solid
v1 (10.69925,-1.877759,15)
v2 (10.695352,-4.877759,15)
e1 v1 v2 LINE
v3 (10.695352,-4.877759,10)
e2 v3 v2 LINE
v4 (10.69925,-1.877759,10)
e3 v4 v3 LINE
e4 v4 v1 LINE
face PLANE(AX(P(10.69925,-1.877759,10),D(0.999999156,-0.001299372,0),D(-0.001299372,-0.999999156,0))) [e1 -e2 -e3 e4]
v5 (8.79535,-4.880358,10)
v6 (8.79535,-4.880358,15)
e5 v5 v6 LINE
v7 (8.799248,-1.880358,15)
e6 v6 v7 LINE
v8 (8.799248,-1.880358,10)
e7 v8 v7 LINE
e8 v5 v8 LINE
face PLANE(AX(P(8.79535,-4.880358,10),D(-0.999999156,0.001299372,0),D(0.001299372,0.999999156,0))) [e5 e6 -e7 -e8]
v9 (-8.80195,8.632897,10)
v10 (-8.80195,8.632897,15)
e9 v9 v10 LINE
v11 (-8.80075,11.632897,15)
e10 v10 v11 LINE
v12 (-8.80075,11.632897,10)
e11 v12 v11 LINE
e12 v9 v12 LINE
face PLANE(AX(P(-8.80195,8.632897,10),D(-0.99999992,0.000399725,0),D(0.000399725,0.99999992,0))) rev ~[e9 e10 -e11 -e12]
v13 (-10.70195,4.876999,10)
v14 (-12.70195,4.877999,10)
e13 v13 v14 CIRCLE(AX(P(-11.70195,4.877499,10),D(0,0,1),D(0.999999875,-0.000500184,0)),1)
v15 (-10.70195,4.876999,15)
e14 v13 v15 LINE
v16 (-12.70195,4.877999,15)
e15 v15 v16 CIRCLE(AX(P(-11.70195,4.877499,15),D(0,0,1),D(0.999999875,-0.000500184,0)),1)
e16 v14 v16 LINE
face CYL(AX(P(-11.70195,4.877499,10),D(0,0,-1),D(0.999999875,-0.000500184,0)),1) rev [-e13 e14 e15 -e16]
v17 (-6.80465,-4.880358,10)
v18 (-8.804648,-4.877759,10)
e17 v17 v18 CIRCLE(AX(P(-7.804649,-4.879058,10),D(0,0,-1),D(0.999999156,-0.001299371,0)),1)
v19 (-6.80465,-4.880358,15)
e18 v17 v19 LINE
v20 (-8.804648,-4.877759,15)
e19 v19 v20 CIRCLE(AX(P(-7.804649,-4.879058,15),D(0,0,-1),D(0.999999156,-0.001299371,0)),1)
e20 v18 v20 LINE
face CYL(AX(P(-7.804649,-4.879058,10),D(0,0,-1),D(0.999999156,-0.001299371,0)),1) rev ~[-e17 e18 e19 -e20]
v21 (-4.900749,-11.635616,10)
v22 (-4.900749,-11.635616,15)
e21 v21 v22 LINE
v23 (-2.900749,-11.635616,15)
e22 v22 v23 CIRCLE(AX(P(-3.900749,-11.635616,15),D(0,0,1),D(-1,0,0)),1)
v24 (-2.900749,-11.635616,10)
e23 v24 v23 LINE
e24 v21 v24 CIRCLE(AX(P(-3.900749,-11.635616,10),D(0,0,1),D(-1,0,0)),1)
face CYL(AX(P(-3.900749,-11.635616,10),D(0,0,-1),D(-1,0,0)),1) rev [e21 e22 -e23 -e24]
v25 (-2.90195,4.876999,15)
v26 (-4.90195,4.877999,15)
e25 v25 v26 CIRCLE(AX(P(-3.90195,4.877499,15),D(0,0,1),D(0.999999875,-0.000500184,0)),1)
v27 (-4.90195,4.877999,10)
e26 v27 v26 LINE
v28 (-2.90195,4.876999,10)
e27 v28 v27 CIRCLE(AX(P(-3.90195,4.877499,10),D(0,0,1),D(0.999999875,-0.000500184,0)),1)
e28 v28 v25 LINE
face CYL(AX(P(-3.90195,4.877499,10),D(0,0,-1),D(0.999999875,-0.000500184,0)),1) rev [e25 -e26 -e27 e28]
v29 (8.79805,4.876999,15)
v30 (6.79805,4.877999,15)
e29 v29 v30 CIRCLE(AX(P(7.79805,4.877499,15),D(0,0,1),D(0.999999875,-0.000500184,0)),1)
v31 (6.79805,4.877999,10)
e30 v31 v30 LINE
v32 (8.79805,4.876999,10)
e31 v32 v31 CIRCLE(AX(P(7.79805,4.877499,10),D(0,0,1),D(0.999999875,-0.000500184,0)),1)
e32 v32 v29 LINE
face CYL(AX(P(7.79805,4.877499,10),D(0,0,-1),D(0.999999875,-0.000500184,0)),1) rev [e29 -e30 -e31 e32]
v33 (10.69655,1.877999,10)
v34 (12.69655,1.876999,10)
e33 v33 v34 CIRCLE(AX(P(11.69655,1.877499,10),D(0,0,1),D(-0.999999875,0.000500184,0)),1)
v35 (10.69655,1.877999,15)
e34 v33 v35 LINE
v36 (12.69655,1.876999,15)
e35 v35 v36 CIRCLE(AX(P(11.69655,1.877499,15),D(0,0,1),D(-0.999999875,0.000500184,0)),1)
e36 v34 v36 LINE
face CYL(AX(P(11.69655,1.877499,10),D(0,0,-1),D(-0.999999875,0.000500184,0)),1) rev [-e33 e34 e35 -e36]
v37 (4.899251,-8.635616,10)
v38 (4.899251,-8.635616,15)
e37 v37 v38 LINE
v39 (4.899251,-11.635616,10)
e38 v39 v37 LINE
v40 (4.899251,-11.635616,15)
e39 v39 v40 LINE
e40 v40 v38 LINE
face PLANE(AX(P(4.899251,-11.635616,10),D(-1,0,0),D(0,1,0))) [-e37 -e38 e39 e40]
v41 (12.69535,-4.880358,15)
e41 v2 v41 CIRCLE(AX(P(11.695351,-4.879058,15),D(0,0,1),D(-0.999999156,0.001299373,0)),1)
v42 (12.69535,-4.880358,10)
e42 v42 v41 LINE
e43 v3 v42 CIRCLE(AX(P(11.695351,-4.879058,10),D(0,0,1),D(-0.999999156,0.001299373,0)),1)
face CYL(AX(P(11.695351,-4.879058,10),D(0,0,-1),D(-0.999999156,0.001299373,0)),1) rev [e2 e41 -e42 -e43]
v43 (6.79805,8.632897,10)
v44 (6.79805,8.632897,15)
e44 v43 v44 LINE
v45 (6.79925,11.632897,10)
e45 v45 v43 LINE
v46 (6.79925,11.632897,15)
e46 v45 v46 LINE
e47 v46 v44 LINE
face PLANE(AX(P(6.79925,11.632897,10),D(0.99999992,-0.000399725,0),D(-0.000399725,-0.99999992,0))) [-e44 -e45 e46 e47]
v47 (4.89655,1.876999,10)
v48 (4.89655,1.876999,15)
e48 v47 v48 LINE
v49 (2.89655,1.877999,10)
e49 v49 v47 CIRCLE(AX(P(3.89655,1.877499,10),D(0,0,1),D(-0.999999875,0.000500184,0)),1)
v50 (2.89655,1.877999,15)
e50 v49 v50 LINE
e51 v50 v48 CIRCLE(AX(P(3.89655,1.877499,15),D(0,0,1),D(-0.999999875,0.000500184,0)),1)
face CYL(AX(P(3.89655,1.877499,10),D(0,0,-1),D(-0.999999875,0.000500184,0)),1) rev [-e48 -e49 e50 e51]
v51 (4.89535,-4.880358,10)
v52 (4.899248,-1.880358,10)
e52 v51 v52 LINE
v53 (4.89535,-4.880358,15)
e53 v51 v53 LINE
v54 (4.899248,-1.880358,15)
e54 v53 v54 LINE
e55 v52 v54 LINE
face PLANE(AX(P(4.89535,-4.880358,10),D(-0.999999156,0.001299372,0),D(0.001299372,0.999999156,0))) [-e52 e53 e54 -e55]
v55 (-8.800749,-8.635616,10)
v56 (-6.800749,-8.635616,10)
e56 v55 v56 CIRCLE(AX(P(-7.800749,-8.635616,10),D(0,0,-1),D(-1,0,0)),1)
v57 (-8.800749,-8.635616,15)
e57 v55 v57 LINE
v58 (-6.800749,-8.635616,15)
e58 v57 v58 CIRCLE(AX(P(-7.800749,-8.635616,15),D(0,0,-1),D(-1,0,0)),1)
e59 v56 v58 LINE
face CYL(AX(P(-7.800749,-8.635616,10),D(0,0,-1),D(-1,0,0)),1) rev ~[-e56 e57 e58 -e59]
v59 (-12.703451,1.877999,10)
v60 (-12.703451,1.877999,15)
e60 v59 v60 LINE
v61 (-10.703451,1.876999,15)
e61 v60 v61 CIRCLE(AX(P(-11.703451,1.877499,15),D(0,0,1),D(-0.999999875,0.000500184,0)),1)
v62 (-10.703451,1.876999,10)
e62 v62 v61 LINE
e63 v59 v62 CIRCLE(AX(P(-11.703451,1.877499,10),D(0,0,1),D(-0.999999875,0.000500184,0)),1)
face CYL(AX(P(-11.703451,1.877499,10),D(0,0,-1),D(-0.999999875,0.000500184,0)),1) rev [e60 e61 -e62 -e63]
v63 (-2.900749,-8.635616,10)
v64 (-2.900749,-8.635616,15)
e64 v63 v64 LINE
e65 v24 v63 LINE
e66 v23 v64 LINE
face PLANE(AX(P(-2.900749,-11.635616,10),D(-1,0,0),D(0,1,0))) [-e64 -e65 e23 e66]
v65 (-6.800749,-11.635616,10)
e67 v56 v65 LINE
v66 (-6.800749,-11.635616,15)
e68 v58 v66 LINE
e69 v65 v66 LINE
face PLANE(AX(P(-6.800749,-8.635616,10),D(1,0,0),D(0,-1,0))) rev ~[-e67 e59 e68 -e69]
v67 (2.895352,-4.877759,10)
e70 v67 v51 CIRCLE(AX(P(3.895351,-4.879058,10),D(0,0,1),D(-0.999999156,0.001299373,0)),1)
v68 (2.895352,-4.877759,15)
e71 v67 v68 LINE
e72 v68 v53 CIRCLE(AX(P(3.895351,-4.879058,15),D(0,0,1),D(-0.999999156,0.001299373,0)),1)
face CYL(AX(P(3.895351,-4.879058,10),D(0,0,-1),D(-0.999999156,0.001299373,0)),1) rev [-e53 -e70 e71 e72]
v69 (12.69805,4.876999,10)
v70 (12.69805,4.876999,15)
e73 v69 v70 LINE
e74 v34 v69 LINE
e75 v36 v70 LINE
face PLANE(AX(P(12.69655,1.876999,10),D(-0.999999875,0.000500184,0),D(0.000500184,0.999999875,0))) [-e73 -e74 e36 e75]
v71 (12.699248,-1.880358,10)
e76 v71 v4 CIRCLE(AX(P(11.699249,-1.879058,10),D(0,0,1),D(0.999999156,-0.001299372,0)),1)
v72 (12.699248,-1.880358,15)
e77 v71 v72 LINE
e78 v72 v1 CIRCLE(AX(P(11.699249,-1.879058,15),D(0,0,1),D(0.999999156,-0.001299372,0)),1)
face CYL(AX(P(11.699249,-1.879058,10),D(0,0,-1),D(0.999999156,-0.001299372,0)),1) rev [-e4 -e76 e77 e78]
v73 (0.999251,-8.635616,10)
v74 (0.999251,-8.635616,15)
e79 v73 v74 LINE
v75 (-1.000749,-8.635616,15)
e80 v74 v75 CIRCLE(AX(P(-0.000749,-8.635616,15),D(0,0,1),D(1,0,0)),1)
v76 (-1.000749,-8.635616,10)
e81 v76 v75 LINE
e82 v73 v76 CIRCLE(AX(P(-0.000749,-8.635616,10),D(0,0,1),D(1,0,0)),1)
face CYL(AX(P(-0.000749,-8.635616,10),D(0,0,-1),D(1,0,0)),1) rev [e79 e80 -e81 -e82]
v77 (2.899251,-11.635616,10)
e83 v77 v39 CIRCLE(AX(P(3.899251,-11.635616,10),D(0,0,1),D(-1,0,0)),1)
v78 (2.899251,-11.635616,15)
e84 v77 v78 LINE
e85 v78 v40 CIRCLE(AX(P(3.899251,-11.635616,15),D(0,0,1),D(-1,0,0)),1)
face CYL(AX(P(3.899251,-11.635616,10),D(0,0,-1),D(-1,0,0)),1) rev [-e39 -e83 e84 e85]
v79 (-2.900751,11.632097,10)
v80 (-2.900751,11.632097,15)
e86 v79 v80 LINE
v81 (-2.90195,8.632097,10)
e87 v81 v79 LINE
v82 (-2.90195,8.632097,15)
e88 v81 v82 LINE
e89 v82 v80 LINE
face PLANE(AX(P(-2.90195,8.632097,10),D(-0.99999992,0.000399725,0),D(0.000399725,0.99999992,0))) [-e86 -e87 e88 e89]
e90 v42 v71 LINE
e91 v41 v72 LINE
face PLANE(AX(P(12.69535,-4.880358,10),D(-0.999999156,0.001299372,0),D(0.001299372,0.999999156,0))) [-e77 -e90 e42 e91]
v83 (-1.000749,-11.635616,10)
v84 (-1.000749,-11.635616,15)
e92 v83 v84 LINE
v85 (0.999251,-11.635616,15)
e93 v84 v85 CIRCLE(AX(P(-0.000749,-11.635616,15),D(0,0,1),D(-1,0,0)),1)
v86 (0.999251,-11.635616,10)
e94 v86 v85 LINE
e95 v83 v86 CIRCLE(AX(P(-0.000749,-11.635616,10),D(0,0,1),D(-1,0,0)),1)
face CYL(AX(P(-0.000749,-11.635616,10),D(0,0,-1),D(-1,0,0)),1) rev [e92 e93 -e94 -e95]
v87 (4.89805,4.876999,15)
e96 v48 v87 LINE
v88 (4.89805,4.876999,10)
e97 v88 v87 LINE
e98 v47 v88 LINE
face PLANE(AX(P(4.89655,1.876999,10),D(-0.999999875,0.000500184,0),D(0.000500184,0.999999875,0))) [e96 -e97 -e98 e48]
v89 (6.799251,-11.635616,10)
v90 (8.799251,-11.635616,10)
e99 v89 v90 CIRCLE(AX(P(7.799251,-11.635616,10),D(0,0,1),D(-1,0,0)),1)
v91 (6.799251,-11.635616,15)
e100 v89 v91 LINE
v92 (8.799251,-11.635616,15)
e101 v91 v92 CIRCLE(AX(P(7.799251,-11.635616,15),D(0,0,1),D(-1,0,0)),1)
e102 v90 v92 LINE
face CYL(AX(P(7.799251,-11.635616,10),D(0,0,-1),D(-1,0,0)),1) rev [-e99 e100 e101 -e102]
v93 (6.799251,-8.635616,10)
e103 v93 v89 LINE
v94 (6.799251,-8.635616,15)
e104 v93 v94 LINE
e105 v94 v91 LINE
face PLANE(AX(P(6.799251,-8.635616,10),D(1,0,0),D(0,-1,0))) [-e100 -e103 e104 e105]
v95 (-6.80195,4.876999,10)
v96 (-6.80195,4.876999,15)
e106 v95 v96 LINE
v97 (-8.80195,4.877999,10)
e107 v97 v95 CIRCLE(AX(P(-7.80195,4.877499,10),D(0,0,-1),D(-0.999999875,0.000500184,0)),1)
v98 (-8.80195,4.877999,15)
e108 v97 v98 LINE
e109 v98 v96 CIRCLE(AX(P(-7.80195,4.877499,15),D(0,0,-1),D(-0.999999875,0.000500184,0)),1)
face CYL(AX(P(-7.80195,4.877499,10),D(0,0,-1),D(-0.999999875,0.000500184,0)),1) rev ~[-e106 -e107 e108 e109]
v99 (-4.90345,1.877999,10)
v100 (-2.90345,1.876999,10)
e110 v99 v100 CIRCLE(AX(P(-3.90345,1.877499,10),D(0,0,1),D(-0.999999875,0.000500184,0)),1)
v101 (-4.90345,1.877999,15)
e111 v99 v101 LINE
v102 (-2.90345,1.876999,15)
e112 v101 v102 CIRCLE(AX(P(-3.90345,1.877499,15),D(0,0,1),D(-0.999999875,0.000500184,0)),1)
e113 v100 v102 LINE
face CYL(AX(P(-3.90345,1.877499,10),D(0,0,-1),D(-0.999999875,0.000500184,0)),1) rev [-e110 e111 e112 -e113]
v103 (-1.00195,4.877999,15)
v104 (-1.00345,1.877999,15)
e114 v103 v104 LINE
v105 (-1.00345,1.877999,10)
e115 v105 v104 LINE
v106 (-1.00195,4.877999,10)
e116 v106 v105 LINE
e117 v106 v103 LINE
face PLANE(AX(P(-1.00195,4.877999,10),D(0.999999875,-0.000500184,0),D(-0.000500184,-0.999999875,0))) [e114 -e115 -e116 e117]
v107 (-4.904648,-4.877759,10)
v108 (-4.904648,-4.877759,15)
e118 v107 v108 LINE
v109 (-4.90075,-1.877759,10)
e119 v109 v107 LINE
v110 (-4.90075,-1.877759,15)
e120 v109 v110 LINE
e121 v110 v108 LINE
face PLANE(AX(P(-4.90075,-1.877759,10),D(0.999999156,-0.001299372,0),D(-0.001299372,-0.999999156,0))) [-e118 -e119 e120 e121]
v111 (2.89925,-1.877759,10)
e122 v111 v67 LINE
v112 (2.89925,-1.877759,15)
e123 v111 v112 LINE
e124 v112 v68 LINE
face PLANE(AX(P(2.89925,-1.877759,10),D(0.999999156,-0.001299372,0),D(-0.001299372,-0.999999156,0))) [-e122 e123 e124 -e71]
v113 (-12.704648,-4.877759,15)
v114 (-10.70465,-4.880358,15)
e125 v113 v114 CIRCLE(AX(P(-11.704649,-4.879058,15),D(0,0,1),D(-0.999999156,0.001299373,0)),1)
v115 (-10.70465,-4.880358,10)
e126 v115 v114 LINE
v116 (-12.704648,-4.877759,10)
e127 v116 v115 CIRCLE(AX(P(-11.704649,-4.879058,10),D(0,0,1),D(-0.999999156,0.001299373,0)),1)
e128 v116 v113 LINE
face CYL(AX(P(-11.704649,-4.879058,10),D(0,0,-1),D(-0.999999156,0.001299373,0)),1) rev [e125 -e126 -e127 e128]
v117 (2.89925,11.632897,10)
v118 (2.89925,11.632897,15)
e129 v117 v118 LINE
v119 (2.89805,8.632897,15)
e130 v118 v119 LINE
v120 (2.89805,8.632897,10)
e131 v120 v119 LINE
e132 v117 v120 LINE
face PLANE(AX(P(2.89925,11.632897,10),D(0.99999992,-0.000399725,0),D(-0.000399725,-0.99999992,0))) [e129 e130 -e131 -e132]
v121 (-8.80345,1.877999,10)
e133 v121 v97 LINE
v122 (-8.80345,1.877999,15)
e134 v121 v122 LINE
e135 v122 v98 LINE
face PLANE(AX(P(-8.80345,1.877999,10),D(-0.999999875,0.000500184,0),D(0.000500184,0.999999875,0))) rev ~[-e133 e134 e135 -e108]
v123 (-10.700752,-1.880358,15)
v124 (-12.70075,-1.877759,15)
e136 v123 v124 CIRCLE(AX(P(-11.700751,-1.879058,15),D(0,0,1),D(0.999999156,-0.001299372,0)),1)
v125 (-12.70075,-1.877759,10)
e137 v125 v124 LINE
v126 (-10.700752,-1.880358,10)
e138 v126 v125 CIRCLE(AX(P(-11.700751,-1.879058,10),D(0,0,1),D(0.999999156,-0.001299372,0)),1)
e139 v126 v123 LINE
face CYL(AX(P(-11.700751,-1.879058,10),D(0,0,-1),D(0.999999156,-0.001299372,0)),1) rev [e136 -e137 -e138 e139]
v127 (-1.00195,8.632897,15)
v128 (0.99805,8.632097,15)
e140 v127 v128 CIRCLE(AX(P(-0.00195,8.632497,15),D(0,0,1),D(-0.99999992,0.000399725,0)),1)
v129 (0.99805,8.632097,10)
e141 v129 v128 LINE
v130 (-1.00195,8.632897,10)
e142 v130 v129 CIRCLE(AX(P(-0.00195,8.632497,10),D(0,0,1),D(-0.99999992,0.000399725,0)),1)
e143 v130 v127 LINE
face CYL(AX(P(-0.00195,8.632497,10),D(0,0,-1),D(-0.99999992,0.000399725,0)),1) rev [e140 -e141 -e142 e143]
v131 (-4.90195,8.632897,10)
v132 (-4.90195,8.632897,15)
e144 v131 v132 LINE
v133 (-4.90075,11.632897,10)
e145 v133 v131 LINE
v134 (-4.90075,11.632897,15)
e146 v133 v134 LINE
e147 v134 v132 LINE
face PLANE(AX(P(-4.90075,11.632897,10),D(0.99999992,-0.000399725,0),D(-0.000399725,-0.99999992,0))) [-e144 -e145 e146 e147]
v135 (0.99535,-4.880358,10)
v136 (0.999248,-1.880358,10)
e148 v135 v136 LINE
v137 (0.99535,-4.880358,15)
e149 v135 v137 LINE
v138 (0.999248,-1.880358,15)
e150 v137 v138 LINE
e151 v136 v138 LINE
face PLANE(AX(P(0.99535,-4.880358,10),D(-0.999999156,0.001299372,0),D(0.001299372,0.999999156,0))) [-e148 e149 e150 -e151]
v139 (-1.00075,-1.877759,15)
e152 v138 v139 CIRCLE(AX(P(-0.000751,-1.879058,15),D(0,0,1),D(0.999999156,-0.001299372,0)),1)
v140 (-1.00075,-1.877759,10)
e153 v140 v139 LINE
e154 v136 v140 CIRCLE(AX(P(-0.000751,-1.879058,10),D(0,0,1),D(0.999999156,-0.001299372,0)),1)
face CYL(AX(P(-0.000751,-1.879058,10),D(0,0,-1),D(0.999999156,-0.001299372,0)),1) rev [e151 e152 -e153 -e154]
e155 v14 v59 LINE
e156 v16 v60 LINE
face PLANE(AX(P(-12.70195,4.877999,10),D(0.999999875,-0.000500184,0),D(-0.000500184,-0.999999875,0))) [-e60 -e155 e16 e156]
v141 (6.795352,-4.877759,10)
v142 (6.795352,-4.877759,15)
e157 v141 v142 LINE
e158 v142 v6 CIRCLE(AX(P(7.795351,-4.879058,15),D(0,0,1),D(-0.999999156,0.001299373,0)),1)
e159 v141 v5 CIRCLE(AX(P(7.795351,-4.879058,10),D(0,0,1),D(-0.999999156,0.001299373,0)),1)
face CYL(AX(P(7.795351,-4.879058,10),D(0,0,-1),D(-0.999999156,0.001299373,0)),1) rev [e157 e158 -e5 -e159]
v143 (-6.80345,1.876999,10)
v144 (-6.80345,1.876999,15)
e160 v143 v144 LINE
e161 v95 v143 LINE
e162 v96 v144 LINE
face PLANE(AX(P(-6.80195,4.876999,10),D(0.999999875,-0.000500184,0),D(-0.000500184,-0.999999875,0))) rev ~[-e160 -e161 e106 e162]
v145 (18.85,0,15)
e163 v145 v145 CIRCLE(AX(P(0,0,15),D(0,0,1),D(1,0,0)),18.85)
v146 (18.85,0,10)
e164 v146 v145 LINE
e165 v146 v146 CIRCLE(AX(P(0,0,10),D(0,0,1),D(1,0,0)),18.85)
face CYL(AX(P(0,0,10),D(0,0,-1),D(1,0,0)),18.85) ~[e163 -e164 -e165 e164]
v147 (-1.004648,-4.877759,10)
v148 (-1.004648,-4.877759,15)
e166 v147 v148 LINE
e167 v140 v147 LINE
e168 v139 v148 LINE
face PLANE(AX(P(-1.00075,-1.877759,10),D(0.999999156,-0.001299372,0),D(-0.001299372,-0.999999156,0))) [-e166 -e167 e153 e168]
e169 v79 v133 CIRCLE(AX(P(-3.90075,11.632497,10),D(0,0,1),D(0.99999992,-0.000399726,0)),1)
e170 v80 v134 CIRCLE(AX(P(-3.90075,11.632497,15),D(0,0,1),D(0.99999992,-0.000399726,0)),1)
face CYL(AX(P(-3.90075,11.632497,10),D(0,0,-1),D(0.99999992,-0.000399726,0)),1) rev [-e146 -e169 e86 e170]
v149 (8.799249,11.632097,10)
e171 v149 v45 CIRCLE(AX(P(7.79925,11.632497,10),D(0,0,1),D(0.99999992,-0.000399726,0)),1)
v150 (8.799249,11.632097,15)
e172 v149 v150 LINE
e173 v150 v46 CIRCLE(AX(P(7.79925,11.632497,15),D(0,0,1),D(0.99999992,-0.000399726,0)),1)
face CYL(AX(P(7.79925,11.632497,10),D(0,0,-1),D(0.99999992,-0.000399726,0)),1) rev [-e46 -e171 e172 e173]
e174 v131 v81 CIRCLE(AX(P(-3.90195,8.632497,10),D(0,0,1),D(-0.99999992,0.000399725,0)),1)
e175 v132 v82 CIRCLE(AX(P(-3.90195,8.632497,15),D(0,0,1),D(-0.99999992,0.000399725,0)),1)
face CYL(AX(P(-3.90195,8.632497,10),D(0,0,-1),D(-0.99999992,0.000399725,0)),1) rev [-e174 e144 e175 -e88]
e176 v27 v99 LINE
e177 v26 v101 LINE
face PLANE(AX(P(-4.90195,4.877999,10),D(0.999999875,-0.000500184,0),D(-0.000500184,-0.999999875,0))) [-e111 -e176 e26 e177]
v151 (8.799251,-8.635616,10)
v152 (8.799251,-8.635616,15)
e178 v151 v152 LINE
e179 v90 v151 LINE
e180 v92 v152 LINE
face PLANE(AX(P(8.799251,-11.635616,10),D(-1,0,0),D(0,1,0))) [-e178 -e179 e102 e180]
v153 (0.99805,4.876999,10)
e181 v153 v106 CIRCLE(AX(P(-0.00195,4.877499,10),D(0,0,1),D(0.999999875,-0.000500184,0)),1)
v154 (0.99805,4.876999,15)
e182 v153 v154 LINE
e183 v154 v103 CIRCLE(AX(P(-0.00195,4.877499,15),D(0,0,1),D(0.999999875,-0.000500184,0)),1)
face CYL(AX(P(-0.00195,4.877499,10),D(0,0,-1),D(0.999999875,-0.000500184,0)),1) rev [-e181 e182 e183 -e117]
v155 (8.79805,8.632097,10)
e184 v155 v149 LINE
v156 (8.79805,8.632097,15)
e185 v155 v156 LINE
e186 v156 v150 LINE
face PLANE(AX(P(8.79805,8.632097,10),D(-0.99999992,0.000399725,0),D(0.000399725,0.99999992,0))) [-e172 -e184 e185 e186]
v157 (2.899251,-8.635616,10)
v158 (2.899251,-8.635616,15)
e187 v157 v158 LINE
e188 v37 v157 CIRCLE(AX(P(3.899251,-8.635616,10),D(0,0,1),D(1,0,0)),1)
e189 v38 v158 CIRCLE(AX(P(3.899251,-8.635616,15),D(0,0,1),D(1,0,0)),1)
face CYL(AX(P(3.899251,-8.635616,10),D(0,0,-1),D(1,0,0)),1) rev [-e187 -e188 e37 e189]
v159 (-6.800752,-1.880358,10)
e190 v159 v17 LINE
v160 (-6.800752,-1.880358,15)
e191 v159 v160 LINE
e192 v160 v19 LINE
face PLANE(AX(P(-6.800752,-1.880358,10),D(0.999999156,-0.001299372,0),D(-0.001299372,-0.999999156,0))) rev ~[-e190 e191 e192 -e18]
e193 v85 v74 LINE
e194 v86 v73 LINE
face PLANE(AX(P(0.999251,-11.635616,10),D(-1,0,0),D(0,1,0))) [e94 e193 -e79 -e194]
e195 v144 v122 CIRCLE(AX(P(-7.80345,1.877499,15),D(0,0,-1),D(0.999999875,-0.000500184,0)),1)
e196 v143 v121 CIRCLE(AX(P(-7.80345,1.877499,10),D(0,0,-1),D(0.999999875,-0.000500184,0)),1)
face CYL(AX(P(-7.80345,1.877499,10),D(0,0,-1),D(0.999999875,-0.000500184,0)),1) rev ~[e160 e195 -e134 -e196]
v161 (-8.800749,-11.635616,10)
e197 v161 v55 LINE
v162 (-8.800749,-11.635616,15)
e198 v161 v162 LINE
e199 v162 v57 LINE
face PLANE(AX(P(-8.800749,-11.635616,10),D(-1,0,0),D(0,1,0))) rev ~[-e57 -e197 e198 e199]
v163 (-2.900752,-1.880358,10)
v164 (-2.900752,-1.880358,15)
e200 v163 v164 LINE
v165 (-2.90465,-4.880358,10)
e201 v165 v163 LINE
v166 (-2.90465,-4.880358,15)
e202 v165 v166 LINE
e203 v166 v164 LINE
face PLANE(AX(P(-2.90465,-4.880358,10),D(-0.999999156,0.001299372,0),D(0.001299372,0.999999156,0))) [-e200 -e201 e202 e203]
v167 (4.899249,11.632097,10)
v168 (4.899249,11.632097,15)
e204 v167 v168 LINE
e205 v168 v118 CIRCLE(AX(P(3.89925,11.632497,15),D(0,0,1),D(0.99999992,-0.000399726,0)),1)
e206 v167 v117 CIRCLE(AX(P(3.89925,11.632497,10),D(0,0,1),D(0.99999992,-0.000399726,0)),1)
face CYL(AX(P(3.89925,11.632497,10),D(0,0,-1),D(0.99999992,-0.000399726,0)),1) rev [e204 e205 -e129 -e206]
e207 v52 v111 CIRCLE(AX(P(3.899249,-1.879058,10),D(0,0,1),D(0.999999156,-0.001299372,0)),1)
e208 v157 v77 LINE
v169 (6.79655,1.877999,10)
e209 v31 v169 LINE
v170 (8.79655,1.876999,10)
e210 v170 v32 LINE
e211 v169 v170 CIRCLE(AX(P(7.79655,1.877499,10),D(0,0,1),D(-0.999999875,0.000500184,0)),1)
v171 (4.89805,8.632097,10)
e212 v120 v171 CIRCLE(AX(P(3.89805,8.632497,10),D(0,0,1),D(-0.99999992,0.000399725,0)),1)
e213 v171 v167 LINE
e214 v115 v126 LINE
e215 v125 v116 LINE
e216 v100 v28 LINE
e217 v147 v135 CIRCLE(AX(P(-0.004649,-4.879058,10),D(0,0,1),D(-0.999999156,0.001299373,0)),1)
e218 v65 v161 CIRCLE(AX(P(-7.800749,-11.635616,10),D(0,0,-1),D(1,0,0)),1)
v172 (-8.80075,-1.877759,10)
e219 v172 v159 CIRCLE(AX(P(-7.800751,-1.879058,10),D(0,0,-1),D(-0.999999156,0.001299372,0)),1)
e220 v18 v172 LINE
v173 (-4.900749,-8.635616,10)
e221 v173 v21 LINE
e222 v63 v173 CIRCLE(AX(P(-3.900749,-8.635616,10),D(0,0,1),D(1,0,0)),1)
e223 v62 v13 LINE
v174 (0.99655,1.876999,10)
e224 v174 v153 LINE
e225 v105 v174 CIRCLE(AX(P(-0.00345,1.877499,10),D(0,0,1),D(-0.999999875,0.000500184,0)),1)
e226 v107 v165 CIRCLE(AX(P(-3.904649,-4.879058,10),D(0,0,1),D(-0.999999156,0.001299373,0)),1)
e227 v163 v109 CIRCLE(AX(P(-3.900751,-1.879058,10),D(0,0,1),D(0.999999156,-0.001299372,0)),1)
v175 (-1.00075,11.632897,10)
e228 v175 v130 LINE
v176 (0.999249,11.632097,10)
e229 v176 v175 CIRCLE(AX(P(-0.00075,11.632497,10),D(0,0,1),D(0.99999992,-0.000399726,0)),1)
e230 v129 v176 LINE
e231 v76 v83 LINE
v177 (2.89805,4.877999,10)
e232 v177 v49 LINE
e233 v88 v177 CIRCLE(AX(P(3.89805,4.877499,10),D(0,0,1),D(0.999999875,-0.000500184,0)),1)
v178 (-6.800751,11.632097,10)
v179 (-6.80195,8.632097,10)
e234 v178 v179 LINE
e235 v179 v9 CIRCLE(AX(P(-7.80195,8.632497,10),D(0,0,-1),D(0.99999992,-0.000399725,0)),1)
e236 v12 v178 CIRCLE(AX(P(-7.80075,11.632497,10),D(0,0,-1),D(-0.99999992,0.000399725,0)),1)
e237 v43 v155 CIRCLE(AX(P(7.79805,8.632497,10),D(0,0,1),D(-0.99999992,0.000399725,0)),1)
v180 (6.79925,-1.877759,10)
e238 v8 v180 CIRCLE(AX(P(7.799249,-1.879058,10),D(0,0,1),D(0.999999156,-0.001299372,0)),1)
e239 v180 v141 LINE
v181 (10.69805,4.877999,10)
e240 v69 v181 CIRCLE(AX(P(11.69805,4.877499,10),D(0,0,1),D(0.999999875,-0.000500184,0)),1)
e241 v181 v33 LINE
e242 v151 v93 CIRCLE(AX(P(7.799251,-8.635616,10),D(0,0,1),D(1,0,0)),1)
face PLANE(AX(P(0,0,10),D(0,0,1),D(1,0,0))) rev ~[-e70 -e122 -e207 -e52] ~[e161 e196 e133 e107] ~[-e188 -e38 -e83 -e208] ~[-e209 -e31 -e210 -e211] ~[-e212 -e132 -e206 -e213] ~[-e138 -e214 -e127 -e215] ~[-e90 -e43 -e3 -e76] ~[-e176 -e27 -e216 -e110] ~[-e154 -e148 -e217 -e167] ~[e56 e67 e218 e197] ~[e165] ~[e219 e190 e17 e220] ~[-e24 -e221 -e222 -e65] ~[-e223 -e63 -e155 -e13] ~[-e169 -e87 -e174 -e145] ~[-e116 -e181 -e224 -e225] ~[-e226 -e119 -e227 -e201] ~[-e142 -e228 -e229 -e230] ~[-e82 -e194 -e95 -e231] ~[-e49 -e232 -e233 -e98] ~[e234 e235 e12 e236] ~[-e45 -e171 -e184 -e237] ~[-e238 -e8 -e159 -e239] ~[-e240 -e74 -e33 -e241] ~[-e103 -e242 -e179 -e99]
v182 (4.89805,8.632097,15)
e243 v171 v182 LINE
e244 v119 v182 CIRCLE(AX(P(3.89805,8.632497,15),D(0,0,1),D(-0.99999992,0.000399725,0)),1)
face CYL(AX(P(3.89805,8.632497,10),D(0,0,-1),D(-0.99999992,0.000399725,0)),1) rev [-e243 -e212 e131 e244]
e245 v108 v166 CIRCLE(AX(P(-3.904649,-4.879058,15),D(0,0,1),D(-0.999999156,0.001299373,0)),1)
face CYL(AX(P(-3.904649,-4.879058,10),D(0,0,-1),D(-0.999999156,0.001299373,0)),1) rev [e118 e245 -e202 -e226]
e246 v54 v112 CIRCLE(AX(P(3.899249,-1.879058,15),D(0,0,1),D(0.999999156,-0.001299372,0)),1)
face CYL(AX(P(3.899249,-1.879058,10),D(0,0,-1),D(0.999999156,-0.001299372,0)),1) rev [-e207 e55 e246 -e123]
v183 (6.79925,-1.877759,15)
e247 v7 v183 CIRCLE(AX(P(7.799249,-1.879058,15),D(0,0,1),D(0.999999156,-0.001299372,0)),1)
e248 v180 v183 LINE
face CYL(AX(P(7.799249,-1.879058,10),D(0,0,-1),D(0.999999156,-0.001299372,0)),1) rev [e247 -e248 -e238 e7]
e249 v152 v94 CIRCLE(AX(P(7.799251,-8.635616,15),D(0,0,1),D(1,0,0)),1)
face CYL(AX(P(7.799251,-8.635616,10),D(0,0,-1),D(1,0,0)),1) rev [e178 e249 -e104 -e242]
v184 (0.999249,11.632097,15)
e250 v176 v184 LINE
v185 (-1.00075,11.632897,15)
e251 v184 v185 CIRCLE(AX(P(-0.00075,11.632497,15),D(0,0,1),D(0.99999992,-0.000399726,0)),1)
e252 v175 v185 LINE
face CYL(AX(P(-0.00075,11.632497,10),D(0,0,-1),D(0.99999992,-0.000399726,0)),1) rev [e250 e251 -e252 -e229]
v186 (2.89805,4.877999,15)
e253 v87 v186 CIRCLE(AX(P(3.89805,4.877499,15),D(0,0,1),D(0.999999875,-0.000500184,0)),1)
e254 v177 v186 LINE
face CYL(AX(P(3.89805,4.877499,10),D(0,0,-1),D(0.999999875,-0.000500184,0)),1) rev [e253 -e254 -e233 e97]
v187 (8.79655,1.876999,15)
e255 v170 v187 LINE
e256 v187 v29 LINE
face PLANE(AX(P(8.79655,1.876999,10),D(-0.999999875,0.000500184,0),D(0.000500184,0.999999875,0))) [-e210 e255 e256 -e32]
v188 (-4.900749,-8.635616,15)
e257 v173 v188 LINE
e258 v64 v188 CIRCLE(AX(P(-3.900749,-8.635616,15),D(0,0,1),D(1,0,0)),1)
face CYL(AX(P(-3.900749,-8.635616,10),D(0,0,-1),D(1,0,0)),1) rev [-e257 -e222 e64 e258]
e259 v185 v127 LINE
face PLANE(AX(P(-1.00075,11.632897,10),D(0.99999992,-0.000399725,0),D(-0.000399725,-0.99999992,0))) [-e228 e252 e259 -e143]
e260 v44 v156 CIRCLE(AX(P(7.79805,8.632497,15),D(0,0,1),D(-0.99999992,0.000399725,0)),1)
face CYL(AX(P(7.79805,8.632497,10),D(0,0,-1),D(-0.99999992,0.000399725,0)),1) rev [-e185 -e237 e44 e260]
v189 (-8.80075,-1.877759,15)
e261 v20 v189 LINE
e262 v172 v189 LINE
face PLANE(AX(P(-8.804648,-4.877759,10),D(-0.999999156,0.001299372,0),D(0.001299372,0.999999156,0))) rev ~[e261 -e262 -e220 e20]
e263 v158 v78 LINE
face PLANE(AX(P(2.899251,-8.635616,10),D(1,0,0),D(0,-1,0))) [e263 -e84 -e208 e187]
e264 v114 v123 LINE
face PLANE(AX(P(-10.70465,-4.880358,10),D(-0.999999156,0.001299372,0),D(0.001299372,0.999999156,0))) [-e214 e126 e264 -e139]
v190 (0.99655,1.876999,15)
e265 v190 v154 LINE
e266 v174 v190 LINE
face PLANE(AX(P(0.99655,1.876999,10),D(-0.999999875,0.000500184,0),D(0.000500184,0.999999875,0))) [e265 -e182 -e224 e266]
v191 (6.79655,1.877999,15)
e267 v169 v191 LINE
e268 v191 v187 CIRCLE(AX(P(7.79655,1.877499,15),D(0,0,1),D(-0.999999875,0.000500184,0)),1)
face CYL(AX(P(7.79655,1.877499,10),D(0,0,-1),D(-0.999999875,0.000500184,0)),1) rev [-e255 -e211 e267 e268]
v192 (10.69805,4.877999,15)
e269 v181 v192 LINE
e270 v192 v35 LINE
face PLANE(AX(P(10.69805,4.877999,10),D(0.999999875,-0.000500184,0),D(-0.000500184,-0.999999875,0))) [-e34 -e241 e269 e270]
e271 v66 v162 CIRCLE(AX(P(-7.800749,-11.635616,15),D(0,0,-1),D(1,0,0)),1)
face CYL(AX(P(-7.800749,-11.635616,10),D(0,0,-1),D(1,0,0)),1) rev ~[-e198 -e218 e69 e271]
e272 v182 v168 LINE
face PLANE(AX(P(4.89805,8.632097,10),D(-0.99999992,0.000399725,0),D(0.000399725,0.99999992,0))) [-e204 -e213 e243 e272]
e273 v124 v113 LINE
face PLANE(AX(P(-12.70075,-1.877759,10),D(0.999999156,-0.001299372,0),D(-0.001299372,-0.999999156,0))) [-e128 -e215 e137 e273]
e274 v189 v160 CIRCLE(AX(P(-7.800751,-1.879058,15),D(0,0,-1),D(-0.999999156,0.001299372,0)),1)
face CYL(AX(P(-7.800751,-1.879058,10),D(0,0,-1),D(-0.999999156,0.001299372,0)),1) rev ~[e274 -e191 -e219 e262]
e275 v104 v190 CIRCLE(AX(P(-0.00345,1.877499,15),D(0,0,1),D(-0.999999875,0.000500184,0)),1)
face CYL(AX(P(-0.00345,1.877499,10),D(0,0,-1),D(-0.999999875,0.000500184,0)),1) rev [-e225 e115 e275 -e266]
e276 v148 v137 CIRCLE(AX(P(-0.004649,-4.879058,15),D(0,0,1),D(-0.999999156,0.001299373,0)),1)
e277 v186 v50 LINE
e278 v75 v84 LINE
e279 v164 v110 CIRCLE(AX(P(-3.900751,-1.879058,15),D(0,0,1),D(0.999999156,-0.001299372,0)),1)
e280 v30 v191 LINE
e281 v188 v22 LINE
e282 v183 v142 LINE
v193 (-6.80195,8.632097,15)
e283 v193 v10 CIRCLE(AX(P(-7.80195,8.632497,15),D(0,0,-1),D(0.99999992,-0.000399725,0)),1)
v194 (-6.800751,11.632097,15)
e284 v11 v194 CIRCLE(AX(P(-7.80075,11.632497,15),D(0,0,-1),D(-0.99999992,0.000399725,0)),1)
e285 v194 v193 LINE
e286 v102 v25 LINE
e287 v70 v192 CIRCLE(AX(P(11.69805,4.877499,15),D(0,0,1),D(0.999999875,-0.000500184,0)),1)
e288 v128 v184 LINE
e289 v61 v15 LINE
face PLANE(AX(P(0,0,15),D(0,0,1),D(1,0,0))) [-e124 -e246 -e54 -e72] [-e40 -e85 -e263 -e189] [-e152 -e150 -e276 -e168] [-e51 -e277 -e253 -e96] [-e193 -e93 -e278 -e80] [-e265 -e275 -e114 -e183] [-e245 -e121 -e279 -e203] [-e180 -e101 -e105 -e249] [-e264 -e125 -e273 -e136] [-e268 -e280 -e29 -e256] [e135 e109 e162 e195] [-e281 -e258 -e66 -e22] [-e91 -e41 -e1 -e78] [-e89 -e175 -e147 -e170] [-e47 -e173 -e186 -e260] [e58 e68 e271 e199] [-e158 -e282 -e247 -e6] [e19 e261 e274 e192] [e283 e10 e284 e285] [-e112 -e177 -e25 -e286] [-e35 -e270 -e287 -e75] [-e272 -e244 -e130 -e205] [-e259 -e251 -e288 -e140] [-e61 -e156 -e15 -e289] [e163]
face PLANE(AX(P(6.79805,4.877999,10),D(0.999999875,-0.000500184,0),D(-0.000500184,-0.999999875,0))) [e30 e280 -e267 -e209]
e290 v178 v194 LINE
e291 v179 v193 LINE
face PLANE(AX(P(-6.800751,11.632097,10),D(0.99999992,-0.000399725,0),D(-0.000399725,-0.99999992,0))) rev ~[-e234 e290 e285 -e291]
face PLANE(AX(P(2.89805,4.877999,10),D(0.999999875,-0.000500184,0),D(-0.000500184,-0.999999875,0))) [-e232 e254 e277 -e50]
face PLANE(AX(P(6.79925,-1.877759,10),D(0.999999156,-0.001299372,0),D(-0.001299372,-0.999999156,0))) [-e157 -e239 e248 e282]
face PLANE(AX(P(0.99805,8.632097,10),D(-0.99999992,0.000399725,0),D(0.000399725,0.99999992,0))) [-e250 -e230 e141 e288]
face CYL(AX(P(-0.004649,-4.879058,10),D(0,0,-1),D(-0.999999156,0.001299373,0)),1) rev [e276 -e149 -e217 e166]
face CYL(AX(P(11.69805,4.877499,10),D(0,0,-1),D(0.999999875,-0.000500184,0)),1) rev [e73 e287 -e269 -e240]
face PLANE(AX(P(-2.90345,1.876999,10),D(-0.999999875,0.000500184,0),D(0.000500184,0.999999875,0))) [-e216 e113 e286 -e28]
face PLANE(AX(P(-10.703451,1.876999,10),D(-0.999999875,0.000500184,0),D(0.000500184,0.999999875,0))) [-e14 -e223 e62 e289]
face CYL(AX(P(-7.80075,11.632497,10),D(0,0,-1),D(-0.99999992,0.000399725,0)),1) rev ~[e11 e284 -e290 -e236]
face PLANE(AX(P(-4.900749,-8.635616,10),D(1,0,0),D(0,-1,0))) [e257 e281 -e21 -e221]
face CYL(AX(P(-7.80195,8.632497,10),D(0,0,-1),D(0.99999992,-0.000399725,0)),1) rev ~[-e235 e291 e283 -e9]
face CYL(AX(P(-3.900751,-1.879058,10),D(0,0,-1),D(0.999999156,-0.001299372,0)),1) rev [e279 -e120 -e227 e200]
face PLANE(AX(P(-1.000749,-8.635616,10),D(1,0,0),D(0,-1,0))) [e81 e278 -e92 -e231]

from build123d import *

# Parameters (mm, degrees)
SKETCH2_R           = 18.85
BOSS_EXTRUDE1_DEPTH = 5


with BuildPart() as part:
    # Sketch2 → Boss-Extrude1 (new body)
    with BuildSketch(Plane.XY.offset(10)):
        Circle(SKETCH2_R)
        with BuildLine():
            Line((-6.800750564, 11.632097199), (-6.80194974, 8.632097439))
            ThreePointArc((-6.80194974, 8.632097439), (-7.802349385, 7.632497244), (-8.80194958, 8.632896889))
            Line((-8.80194958, 8.632896889), (-8.800750404, 11.63289665))
            ThreePointArc((-8.800750404, 11.63289665), (-7.800350759, 12.632496845), (-6.800750564, 11.632097199))
        make_face(mode=Mode.SUBTRACT)
        with BuildLine():
            Line((-4.900750404, 11.63289665), (-4.90194958, 8.632896889))
            ThreePointArc((-4.90194958, 8.632896889), (-3.902349385, 7.632497244), (-2.90194974, 8.632097439))
            Line((-2.90194974, 8.632097439), (-2.900750564, 11.632097199))
            ThreePointArc((-2.900750564, 11.632097199), (-3.900350759, 12.632496845), (-4.900750404, 11.63289665))
        make_face(mode=Mode.SUBTRACT)
        with BuildLine():
            Line((-1.000750404, 11.63289665), (-1.00194958, 8.632896889))
            ThreePointArc((-1.00194958, 8.632896889), (-0.002349385, 7.632497244), (0.99805026, 8.632097439))
            Line((0.99805026, 8.632097439), (0.999249436, 11.632097199))
            ThreePointArc((0.999249436, 11.632097199), (-0.000350759, 12.632496845), (-1.000750404, 11.63289665))
        make_face(mode=Mode.SUBTRACT)
        with BuildLine():
            Line((2.899249596, 11.63289665), (2.89805042, 8.632896889))
            ThreePointArc((2.89805042, 8.632896889), (3.897650615, 7.632497244), (4.89805026, 8.632097439))
            Line((4.89805026, 8.632097439), (4.899249436, 11.632097199))
            ThreePointArc((4.899249436, 11.632097199), (3.899649241, 12.632496845), (2.899249596, 11.63289665))
        make_face(mode=Mode.SUBTRACT)
        with BuildLine():
            Line((6.799249596, 11.63289665), (6.79805042, 8.632896889))
            ThreePointArc((6.79805042, 8.632896889), (7.797650615, 7.632497244), (8.79805026, 8.632097439))
            Line((8.79805026, 8.632097439), (8.799249436, 11.632097199))
            ThreePointArc((8.799249436, 11.632097199), (7.799649241, 12.632496845), (6.799249596, 11.63289665))
        make_face(mode=Mode.SUBTRACT)
        with BuildLine():
            Line((-10.703450753, 1.876998531), (-10.7019502, 4.876998531))
            ThreePointArc((-10.7019502, 4.876998531), (-11.701449891, 5.87749859), (-12.70194995, 4.877998899))
            Line((-12.70194995, 4.877998899), (-12.703450502, 1.877998899))
            ThreePointArc((-12.703450502, 1.877998899), (-11.703950811, 0.87749884), (-10.703450753, 1.876998531))
        make_face(mode=Mode.SUBTRACT)
        with BuildLine():
            Line((-8.803450087, 1.877998899), (-8.801949535, 4.877998899))
            ThreePointArc((-8.801949535, 4.877998899), (-7.801449476, 5.87749859), (-6.801949785, 4.876998531))
            Line((-6.801949785, 4.876998531), (-6.803450337, 1.876998531))
            ThreePointArc((-6.803450337, 1.876998531), (-7.803950396, 0.87749884), (-8.803450087, 1.877998899))
        make_face(mode=Mode.SUBTRACT)
        with BuildLine():
            Line((-2.903450337, 1.876998531), (-2.901949785, 4.876998531))
            ThreePointArc((-2.901949785, 4.876998531), (-3.901449476, 5.87749859), (-4.901949535, 4.877998899))
            Line((-4.901949535, 4.877998899), (-4.903450087, 1.877998899))
            ThreePointArc((-4.903450087, 1.877998899), (-3.903950396, 0.87749884), (-2.903450337, 1.876998531))
        make_face(mode=Mode.SUBTRACT)
        with BuildLine():
            Line((0.996549663, 1.876998531), (0.998050215, 4.876998531))
            ThreePointArc((0.998050215, 4.876998531), (-0.001449476, 5.87749859), (-1.001949535, 4.877998899))
            Line((-1.001949535, 4.877998899), (-1.003450087, 1.877998899))
            ThreePointArc((-1.003450087, 1.877998899), (-0.003950396, 0.87749884), (0.996549663, 1.876998531))
        make_face(mode=Mode.SUBTRACT)
        with BuildLine():
            Line((4.896549663, 1.876998531), (4.898050215, 4.876998531))
            ThreePointArc((4.898050215, 4.876998531), (3.898550524, 5.87749859), (2.898050465, 4.877998899))
            Line((2.898050465, 4.877998899), (2.896549913, 1.877998899))
            ThreePointArc((2.896549913, 1.877998899), (3.896049604, 0.87749884), (4.896549663, 1.876998531))
        make_face(mode=Mode.SUBTRACT)
        with BuildLine():
            Line((8.796549663, 1.876998531), (8.798050215, 4.876998531))
            ThreePointArc((8.798050215, 4.876998531), (7.798550524, 5.87749859), (6.798050465, 4.877998899))
            Line((6.798050465, 4.877998899), (6.796549913, 1.877998899))
            ThreePointArc((6.796549913, 1.877998899), (7.796049604, 0.87749884), (8.796549663, 1.876998531))
        make_face(mode=Mode.SUBTRACT)
        with BuildLine():
            Line((12.696549663, 1.876998531), (12.698050215, 4.876998531))
            ThreePointArc((12.698050215, 4.876998531), (11.698550524, 5.87749859), (10.698050465, 4.877998899))
            Line((10.698050465, 4.877998899), (10.696549913, 1.877998899))
            ThreePointArc((10.696549913, 1.877998899), (11.696049604, 0.87749884), (12.696549663, 1.876998531))
        make_face(mode=Mode.SUBTRACT)
        with BuildLine():
            Line((-8.804648151, -4.877758991), (-8.800750032, -1.877758991))
            ThreePointArc((-8.800750032, -1.877758991), (-7.799451504, -0.879059207), (-6.80075172, -1.880357735))
            Line((-6.80075172, -1.880357735), (-6.80464984, -4.880357735))
            ThreePointArc((-6.80464984, -4.880357735), (-7.805948368, -5.879057519), (-8.804648151, -4.877758991))
        make_face(mode=Mode.SUBTRACT)
        with BuildLine():
            Line((-2.90464984, -4.880357735), (-2.90075172, -1.880357735))
            ThreePointArc((-2.90075172, -1.880357735), (-3.899451504, -0.879059207), (-4.900750032, -1.877758991))
            Line((-4.900750032, -1.877758991), (-4.904648151, -4.877758991))
            ThreePointArc((-4.904648151, -4.877758991), (-3.905948368, -5.879057519), (-2.90464984, -4.880357735))
        make_face(mode=Mode.SUBTRACT)
        with BuildLine():
            Line((0.99535016, -4.880357735), (0.99924828, -1.880357735))
            ThreePointArc((0.99924828, -1.880357735), (0.000548496, -0.879059207), (-1.000750032, -1.877758991))
            Line((-1.000750032, -1.877758991), (-1.004648151, -4.877758991))
            ThreePointArc((-1.004648151, -4.877758991), (-0.005948368, -5.879057519), (0.99535016, -4.880357735))
        make_face(mode=Mode.SUBTRACT)
        with BuildLine():
            Line((4.89535016, -4.880357735), (4.89924828, -1.880357735))
            ThreePointArc((4.89924828, -1.880357735), (3.900548496, -0.879059207), (2.899249968, -1.877758991))
            Line((2.899249968, -1.877758991), (2.895351849, -4.877758991))
            ThreePointArc((2.895351849, -4.877758991), (3.894051632, -5.879057519), (4.89535016, -4.880357735))
        make_face(mode=Mode.SUBTRACT)
        with BuildLine():
            Line((8.79535016, -4.880357735), (8.79924828, -1.880357735))
            ThreePointArc((8.79924828, -1.880357735), (7.800548496, -0.879059207), (6.799249968, -1.877758991))
            Line((6.799249968, -1.877758991), (6.795351849, -4.877758991))
            ThreePointArc((6.795351849, -4.877758991), (7.794051632, -5.879057519), (8.79535016, -4.880357735))
        make_face(mode=Mode.SUBTRACT)
        with BuildLine():
            Line((12.69535016, -4.880357735), (12.69924828, -1.880357735))
            ThreePointArc((12.69924828, -1.880357735), (11.700548496, -0.879059207), (10.699249968, -1.877758991))
            Line((10.699249968, -1.877758991), (10.695351849, -4.877758991))
            ThreePointArc((10.695351849, -4.877758991), (11.694051632, -5.879057519), (12.69535016, -4.880357735))
        make_face(mode=Mode.SUBTRACT)
        with BuildLine():
            Line((-10.70464984, -4.880357735), (-10.70075172, -1.880357735))
            ThreePointArc((-10.70075172, -1.880357735), (-11.699451504, -0.879059207), (-12.700750032, -1.877758991))
            Line((-12.700750032, -1.877758991), (-12.704648151, -4.877758991))
            ThreePointArc((-12.704648151, -4.877758991), (-11.705948368, -5.879057519), (-10.70464984, -4.880357735))
        make_face(mode=Mode.SUBTRACT)
        with BuildLine():
            Line((-6.800749353, -8.635615621), (-6.800749353, -11.635615621))
            ThreePointArc((-6.800749353, -11.635615621), (-7.800749353, -12.635615621), (-8.800749353, -11.635615621))
            Line((-8.800749353, -11.635615621), (-8.800749353, -8.635615621))
            ThreePointArc((-8.800749353, -8.635615621), (-7.800749353, -7.635615621), (-6.800749353, -8.635615621))
        make_face(mode=Mode.SUBTRACT)
        with BuildLine():
            Line((-4.900749353, -8.635615621), (-4.900749353, -11.635615621))
            ThreePointArc((-4.900749353, -11.635615621), (-3.900749353, -12.635615621), (-2.900749353, -11.635615621))
            Line((-2.900749353, -11.635615621), (-2.900749353, -8.635615621))
            ThreePointArc((-2.900749353, -8.635615621), (-3.900749353, -7.635615621), (-4.900749353, -8.635615621))
        make_face(mode=Mode.SUBTRACT)
        with BuildLine():
            Line((-1.000749353, -8.635615621), (-1.000749353, -11.635615621))
            ThreePointArc((-1.000749353, -11.635615621), (-0.000749353, -12.635615621), (0.999250647, -11.635615621))
            Line((0.999250647, -11.635615621), (0.999250647, -8.635615621))
            ThreePointArc((0.999250647, -8.635615621), (-0.000749353, -7.635615621), (-1.000749353, -8.635615621))
        make_face(mode=Mode.SUBTRACT)
        with BuildLine():
            Line((2.899250647, -8.635615621), (2.899250647, -11.635615621))
            ThreePointArc((2.899250647, -11.635615621), (3.899250647, -12.635615621), (4.899250647, -11.635615621))
            Line((4.899250647, -11.635615621), (4.899250647, -8.635615621))
            ThreePointArc((4.899250647, -8.635615621), (3.899250647, -7.635615621), (2.899250647, -8.635615621))
        make_face(mode=Mode.SUBTRACT)
        with BuildLine():
            Line((6.799250647, -8.635615621), (6.799250647, -11.635615621))
            ThreePointArc((6.799250647, -11.635615621), (7.799250647, -12.635615621), (8.799250647, -11.635615621))
            Line((8.799250647, -11.635615621), (8.799250647, -8.635615621))
            ThreePointArc((8.799250647, -8.635615621), (7.799250647, -7.635615621), (6.799250647, -8.635615621))
        make_face(mode=Mode.SUBTRACT)
    extrude(amount=BOSS_EXTRUDE1_DEPTH)


solid = part.part
